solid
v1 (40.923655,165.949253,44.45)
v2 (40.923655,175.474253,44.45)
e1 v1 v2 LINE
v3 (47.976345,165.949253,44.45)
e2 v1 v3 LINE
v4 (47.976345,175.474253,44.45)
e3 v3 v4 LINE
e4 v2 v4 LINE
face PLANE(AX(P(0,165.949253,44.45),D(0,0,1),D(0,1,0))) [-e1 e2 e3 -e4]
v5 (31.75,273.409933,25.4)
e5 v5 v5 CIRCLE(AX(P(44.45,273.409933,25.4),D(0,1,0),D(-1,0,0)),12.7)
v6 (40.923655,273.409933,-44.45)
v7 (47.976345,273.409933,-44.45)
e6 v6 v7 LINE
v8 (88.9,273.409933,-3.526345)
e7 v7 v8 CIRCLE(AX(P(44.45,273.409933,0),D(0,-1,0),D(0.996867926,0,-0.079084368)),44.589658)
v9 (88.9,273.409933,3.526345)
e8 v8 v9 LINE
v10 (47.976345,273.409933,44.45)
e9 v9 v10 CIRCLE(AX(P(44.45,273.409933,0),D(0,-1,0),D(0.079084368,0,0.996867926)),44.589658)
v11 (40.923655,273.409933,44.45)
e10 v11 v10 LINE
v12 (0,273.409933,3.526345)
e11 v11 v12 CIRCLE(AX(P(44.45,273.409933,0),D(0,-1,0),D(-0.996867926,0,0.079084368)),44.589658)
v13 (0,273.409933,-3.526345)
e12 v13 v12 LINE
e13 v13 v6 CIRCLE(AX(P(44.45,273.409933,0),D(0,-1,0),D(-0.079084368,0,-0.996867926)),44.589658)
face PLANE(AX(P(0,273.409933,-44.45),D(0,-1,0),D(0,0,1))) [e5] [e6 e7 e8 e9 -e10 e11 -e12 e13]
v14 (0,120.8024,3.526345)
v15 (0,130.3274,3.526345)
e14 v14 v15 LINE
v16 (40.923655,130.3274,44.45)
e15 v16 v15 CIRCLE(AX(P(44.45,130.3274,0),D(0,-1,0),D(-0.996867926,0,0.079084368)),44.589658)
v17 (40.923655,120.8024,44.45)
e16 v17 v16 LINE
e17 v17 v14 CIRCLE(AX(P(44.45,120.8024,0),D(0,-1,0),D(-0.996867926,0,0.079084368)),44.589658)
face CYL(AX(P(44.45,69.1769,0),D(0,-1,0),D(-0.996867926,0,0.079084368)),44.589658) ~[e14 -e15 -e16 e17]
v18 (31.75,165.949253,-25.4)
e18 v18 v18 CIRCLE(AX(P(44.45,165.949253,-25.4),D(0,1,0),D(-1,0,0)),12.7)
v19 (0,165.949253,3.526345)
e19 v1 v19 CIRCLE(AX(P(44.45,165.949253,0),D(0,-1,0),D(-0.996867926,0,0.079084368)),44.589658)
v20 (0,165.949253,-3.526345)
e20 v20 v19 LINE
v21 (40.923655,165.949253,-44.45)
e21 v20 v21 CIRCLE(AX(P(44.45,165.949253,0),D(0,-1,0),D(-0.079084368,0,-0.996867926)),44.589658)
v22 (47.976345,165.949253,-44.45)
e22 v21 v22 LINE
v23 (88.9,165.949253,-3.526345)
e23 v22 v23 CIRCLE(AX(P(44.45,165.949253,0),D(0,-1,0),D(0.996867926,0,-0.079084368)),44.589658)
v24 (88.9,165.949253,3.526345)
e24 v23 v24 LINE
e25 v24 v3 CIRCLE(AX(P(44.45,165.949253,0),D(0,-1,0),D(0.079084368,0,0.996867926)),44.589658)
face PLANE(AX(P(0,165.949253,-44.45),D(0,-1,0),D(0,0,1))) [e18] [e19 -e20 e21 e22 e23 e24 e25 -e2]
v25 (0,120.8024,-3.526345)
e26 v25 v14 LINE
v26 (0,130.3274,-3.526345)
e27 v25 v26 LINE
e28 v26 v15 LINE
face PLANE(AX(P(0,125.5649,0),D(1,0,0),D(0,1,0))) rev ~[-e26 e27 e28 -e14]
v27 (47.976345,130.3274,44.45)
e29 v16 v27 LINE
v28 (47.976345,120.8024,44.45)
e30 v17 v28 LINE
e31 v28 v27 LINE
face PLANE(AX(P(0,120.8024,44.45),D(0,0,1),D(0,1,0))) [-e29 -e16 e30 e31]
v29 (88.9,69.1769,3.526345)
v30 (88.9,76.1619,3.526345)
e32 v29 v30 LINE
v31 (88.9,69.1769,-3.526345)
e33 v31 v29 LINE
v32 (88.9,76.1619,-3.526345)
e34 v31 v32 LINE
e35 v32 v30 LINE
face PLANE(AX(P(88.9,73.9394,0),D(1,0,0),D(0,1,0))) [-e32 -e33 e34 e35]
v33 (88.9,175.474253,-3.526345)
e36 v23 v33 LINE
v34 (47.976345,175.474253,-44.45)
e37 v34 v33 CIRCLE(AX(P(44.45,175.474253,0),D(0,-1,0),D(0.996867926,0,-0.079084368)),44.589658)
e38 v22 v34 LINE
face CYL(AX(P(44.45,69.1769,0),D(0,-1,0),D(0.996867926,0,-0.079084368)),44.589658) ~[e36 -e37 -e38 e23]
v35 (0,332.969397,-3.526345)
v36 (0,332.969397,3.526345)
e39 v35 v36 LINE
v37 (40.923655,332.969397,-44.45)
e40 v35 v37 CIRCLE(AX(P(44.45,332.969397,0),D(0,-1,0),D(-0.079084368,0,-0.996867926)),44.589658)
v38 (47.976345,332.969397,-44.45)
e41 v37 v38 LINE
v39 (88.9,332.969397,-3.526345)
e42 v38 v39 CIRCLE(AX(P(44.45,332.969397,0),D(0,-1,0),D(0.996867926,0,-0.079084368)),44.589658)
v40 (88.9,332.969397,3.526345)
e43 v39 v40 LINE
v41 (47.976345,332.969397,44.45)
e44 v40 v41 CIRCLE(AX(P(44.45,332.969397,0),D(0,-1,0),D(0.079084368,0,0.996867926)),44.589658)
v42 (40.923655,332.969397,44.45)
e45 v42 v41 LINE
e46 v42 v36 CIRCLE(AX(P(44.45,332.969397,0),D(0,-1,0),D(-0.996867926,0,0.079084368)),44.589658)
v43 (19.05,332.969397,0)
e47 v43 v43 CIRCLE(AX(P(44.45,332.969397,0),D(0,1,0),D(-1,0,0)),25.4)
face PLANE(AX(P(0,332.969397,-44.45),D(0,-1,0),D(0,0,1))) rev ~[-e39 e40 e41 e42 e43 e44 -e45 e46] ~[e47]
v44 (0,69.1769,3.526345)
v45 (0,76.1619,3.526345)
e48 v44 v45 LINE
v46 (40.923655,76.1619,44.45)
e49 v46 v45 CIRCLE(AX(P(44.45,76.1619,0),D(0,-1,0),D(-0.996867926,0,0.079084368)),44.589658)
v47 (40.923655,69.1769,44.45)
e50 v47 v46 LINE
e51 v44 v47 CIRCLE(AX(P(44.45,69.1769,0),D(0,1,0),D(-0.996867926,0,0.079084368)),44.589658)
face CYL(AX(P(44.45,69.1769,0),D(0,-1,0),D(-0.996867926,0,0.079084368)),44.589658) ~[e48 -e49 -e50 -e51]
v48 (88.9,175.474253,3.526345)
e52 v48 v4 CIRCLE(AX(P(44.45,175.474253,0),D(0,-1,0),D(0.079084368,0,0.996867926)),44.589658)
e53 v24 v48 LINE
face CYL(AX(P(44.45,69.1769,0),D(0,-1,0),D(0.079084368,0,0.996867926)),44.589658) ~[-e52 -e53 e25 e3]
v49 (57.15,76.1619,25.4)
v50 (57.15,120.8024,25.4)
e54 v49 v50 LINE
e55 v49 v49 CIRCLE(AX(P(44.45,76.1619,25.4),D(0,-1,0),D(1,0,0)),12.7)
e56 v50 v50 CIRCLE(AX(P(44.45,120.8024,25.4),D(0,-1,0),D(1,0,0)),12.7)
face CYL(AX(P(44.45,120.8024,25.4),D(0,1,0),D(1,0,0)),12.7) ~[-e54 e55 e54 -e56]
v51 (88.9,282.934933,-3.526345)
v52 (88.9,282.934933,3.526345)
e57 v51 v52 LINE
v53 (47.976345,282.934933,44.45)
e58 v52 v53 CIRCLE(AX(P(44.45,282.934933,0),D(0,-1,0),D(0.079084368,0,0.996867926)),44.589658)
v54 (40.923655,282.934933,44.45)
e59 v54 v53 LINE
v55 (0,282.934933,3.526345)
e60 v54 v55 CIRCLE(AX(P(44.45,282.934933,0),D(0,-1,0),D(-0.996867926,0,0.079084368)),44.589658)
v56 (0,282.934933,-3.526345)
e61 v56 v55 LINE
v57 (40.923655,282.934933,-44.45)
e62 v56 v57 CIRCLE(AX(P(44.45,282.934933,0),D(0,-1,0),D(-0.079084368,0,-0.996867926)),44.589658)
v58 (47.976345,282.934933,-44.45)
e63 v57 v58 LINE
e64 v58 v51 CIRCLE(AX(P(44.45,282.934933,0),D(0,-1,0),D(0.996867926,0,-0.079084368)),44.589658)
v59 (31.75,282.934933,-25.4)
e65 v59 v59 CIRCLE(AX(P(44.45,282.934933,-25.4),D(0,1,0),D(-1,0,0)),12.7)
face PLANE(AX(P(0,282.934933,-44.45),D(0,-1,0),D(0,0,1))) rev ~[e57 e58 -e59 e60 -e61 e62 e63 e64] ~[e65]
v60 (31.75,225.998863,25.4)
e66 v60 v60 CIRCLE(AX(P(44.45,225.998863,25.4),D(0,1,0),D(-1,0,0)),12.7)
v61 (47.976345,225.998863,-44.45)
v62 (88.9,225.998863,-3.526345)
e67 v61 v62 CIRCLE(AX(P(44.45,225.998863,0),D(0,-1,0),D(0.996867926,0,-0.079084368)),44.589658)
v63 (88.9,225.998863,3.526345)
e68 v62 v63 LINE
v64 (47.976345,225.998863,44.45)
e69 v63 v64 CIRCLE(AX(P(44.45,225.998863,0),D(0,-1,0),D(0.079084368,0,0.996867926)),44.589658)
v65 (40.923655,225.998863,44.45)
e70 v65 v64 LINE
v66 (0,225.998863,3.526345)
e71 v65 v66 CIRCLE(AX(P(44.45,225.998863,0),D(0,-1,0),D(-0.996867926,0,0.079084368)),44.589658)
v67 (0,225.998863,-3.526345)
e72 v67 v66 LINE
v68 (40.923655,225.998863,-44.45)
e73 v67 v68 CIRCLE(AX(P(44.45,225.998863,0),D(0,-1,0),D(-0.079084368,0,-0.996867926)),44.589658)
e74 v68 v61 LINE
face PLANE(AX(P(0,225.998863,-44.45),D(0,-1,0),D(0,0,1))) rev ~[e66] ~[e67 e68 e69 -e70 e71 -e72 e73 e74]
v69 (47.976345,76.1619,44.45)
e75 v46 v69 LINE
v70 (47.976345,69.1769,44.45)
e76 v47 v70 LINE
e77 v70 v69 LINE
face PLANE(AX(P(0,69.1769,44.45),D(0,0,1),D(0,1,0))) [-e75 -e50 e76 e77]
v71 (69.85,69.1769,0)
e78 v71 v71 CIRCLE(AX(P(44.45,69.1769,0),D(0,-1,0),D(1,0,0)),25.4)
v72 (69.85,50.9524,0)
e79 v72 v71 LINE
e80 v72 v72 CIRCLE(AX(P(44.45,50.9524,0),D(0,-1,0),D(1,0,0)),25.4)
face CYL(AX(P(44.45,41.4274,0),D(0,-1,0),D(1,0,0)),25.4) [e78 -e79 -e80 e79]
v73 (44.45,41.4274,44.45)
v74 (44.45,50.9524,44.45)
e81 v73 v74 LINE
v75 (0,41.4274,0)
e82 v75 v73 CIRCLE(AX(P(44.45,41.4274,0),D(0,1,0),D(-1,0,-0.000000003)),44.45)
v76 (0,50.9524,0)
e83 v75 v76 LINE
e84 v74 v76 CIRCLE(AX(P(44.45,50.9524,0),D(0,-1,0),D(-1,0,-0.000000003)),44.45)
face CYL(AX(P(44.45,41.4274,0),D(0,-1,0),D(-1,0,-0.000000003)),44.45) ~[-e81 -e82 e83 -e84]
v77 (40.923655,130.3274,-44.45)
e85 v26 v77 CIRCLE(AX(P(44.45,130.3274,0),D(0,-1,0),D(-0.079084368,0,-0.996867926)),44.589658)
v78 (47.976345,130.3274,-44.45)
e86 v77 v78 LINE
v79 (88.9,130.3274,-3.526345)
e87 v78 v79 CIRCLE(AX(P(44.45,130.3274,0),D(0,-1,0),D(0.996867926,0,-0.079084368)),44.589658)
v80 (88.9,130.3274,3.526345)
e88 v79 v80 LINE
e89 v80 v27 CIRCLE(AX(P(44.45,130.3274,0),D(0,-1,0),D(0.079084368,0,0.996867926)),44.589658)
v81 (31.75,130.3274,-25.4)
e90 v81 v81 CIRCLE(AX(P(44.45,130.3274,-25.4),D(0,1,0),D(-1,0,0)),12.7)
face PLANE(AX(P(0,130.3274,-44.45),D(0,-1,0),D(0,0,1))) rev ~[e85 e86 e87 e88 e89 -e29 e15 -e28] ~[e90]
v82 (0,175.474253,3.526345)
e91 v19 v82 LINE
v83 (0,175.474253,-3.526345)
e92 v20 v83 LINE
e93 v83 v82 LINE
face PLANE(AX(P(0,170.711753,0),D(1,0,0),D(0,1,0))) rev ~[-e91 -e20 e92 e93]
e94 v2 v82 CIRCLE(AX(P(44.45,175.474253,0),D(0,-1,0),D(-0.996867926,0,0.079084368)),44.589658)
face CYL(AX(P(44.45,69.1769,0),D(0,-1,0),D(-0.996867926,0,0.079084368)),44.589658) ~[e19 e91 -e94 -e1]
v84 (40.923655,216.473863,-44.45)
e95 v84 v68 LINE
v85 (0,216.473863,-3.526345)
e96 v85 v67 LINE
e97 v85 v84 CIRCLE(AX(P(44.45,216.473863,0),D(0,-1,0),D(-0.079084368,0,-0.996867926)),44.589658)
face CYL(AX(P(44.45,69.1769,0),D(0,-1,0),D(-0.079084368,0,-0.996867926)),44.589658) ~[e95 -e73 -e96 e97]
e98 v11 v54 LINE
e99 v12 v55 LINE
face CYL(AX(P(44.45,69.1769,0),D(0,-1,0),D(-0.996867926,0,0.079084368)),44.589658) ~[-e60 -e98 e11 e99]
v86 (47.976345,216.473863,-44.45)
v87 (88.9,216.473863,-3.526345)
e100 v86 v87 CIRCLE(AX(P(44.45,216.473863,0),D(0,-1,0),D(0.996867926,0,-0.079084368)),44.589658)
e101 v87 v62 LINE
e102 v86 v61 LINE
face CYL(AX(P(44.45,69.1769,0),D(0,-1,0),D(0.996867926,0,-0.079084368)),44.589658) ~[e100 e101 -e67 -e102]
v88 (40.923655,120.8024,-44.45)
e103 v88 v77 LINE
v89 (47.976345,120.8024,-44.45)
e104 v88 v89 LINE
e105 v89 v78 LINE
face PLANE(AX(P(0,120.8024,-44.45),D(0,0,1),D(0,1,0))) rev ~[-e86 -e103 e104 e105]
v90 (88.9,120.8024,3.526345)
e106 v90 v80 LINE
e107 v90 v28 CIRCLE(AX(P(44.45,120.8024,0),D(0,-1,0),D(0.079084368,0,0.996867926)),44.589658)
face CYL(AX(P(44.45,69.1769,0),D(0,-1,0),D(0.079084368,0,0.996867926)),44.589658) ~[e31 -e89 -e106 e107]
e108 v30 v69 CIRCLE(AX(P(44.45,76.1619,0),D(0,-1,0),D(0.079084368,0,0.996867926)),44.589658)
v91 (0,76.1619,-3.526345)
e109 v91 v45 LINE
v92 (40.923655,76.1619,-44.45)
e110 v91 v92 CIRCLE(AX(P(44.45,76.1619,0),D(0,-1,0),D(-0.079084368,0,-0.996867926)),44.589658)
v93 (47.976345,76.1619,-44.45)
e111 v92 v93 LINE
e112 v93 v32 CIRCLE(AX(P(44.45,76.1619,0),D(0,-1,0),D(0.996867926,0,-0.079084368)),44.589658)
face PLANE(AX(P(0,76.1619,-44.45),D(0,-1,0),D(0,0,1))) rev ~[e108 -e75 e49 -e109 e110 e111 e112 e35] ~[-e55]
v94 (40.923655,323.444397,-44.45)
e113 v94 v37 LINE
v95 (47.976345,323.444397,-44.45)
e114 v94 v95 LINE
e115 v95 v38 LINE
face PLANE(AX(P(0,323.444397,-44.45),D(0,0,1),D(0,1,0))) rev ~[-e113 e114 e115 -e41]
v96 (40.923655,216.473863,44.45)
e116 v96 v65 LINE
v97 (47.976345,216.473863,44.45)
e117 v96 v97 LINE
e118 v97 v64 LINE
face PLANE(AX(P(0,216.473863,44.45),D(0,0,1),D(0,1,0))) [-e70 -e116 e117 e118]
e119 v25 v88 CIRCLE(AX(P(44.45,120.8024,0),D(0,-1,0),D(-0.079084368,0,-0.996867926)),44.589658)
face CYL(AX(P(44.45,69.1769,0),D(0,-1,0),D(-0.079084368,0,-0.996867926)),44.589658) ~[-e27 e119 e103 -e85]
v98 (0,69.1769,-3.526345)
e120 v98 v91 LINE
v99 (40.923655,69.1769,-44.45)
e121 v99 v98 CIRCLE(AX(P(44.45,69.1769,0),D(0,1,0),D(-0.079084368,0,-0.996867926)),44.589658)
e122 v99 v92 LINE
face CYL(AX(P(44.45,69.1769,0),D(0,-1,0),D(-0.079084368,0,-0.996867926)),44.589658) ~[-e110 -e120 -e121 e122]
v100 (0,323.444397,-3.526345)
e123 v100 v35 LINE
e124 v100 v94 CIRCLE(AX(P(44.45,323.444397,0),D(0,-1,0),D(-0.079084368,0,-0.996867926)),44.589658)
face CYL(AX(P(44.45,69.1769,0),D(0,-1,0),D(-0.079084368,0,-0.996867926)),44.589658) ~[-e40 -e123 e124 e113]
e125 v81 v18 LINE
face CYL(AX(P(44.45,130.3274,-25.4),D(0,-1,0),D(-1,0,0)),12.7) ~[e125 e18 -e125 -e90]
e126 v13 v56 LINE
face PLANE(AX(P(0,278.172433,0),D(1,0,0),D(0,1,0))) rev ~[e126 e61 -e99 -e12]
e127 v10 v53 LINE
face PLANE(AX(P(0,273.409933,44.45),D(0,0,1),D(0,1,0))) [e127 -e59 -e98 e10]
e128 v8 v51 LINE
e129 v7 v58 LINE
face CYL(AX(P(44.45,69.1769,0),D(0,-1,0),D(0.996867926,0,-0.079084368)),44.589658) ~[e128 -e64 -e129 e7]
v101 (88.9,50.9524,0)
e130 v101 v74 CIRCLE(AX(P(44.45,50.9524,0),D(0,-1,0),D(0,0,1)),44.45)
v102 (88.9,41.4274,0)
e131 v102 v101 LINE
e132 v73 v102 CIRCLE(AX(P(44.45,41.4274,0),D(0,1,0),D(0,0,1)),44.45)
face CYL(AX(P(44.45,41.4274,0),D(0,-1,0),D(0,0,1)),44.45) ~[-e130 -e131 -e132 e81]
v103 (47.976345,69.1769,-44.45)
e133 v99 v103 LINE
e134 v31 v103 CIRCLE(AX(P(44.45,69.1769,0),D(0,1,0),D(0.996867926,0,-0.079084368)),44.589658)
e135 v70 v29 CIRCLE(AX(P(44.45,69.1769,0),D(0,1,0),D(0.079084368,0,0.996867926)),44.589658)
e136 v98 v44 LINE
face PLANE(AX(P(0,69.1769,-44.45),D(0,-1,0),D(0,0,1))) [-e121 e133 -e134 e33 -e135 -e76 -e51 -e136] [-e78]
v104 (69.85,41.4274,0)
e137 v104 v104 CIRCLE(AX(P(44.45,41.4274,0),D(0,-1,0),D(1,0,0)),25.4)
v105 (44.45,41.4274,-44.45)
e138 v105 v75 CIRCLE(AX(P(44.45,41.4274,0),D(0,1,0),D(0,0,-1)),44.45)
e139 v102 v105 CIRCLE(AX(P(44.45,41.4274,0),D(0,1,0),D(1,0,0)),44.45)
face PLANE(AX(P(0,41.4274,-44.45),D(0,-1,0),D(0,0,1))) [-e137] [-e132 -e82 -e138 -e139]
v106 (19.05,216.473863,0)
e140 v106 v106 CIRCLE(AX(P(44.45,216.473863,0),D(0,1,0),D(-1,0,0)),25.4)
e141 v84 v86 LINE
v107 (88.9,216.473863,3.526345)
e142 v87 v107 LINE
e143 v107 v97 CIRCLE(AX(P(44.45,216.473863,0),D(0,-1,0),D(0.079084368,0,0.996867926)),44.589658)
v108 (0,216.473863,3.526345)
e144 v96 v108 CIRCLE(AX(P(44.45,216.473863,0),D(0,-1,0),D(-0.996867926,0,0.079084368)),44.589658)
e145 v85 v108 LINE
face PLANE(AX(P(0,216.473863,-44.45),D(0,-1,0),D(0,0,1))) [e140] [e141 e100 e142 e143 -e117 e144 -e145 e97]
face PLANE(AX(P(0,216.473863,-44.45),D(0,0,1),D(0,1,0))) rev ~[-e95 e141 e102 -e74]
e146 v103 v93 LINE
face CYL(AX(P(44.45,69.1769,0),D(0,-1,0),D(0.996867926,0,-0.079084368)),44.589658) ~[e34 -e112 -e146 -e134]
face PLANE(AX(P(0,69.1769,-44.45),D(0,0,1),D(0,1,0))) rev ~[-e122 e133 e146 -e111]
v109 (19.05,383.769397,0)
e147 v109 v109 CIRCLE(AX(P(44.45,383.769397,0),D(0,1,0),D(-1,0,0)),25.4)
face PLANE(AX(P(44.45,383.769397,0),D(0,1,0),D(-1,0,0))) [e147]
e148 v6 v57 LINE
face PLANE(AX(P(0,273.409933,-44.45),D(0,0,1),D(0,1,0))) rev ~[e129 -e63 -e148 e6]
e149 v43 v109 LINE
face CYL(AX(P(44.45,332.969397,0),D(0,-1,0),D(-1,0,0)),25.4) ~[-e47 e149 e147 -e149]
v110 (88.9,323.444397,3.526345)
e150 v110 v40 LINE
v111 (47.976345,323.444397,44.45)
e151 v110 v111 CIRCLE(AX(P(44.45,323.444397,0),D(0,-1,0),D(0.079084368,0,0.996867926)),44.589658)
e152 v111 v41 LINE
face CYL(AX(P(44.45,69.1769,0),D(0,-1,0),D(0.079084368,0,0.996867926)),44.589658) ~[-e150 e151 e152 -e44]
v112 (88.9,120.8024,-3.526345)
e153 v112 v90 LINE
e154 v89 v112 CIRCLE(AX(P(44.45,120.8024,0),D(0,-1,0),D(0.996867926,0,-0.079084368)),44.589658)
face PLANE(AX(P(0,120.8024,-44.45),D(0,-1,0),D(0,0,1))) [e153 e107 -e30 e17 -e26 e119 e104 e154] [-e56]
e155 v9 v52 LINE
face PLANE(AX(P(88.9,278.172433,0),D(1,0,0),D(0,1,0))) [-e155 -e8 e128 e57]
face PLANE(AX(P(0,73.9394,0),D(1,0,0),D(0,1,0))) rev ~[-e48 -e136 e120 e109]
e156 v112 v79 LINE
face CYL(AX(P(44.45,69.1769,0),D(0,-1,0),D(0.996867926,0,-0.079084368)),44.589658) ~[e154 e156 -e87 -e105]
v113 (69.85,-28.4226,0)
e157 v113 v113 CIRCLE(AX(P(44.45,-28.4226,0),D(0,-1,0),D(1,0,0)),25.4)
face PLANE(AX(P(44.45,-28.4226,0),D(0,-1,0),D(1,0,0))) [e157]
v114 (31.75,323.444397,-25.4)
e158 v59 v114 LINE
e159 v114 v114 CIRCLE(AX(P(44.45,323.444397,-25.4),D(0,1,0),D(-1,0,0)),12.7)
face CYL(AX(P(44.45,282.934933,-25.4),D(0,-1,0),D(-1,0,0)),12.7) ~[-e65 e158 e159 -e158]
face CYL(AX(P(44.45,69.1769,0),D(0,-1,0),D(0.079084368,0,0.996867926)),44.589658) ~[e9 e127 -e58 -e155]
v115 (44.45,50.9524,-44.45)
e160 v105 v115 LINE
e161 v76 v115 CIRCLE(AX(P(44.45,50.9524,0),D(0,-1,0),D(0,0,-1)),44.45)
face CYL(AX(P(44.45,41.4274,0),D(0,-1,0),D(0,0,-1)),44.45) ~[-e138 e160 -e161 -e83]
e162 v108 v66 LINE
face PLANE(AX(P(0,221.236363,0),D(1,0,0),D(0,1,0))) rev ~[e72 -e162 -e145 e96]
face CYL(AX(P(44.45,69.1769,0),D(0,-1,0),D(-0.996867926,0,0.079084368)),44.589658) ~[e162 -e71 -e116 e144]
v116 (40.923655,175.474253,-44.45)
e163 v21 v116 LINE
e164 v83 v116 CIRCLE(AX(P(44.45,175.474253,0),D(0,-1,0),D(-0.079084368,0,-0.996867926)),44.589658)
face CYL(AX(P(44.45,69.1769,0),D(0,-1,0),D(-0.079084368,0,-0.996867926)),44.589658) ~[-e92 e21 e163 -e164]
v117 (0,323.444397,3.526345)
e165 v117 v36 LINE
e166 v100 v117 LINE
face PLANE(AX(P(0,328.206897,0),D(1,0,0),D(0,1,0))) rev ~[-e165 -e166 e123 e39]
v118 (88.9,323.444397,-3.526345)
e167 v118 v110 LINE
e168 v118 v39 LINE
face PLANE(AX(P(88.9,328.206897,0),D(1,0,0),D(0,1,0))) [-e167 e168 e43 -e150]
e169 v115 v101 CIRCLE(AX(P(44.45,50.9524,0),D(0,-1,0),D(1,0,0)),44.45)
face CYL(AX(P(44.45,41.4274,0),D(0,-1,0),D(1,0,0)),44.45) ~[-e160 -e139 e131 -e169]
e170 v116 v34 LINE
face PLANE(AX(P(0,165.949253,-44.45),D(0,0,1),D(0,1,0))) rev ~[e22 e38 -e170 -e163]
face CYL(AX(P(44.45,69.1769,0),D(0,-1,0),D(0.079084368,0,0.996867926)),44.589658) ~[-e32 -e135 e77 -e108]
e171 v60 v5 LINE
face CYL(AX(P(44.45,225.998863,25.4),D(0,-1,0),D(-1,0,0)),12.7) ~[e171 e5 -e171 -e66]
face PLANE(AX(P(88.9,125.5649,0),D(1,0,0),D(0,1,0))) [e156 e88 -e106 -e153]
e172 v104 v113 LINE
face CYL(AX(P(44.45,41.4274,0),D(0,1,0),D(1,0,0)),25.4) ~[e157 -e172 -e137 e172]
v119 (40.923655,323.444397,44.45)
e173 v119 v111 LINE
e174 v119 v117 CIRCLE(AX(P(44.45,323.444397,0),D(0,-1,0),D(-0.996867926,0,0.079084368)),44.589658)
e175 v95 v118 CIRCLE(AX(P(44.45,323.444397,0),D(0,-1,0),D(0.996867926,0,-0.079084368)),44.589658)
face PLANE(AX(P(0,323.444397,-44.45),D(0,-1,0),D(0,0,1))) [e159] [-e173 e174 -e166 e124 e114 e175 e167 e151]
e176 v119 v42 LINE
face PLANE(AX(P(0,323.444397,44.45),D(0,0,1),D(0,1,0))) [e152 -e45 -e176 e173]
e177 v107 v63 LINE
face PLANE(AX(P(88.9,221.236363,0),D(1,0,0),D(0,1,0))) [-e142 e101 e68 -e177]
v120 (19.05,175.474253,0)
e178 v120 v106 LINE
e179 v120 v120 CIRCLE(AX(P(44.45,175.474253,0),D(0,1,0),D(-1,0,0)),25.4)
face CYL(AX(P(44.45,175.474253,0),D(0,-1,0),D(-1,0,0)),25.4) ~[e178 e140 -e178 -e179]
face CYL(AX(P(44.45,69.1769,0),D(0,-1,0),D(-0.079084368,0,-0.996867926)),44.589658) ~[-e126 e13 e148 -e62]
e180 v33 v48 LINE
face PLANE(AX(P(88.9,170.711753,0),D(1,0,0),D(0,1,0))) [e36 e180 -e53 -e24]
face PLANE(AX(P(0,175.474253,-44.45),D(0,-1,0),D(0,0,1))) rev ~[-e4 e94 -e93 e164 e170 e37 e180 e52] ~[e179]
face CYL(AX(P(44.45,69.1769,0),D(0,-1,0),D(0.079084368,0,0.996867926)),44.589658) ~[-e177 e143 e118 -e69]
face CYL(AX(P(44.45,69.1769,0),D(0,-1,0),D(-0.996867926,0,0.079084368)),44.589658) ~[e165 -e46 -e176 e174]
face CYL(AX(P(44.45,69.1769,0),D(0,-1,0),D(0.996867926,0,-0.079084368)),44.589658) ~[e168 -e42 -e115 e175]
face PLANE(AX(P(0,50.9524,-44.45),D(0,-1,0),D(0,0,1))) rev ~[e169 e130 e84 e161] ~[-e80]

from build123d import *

# Parameters (mm, degrees)
F0_W          = 9.525
F0_H          = 88.9
F1_DEPTH      = 88.9
F2_R          = 25.4
F3_DEPTH      = 69.85
F3_DEPTH_BACK = 30.734
F4_DEPTH      = 12.192
F5_R          = 12.7
F6_DEPTH      = 42.1005
F7_R          = 12.7
F8_DEPTH      = 35.6218531678
F9_R          = 25.4
F10_DEPTH     = 40.9996094773
F11_R         = 12.7
F12_DEPTH     = 47.4110707312
F13_R         = 12.7
F14_DEPTH     = 40.5094634056
F16_DEPTH     = 263.7934967819
F17_R         = 25.4
F18_DEPTH     = 50.8
F19_DEPTH     = 2.54


with BuildPart() as f1:
    # F0 (on Right) → F1 (new body)
    with BuildSketch(Plane.YZ):
        with Locations((46.1899, 0)):
            Rectangle(F0_W, F0_H)
    extrude(amount=F1_DEPTH)



with BuildPart() as f1b:
    # F0 (on Right) → F1, piece 2 (new body)
    with BuildSketch(Plane.YZ):
        with Locations((73.9394, 0)):
            Rectangle(F0_W, F0_H)
    extrude(amount=F1_DEPTH)


with BuildPart() as f1c:
    # F0 (on Right) → F1, piece 3 (new body)
    with BuildSketch(Plane.YZ):
        with Locations((125.5649, 0)):
            Rectangle(F0_W, F0_H)
    extrude(amount=F1_DEPTH)


with BuildPart() as f1d:
    # F0 (on Right) → F1, piece 4 (new body)
    with BuildSketch(Plane.YZ):
        with Locations((170.7117531678, 0)):
            Rectangle(F0_W, F0_H)
    extrude(amount=F1_DEPTH)


with BuildPart() as f1e:
    # F0 (on Right) → F1, piece 5 (new body)
    with BuildSketch(Plane.YZ):
        with Locations((221.2363626451, 0)):
            Rectangle(F0_W, F0_H)
    extrude(amount=F1_DEPTH)


with BuildPart() as f1f:
    # F0 (on Right) → F1, piece 6 (new body)
    with BuildSketch(Plane.YZ):
        with Locations((278.1724333763, 0)):
            Rectangle(F0_W, F0_H)
    extrude(amount=F1_DEPTH)


with BuildPart() as f1g:
    # F0 (on Right) → F1, piece 7 (new body)
    with BuildSketch(Plane.YZ):
        with Locations((328.2068967819, 0)):
            Rectangle(F0_W, F0_H)
    extrude(amount=F1_DEPTH)


with BuildPart() as f1_1:
    add(f1.part)

    add(f1b.part)  # F3 merges F1b
    # F2 (on face) → F3 (join, two sides)
    with BuildSketch(Plane.XZ.offset(-41.4274)) as f3_sk:
        with Locations((44.45, 0)):
            Circle(F2_R)
    extrude(amount=F3_DEPTH)
    extrude(f3_sk.sketch, amount=-F3_DEPTH_BACK)

    # F2 (on face) → F4 (cut)
    with BuildSketch(Plane.XZ.offset(-41.4274)):
        with BuildLine():
            ThreePointArc((44.45, 44.45), (75.8808964237, 31.4308964237), (88.9, 0))
            Line((88.9, 0), (88.9, 44.45))
            Line((88.9, 44.45), (44.45, 44.45))
        make_face()
        with BuildLine():
            ThreePointArc((0, -1.192e-07), (13.0191035341, 31.4308963816), (44.45, 44.45))
            Line((44.45, 44.45), (0, 44.45))
            Line((0, 44.45), (0, -1.192e-07))
        make_face()
        with BuildLine():
            Line((0, -44.45), (44.45, -44.45))
            ThreePointArc((44.45, -44.45), (13.0191036184, -31.4308964659), (0, -1.192e-07))
            Line((0, -1.192e-07), (0, -44.45))
        make_face()
        with BuildLine():
            Line((88.9, -44.45), (88.9, 0))
            ThreePointArc((88.9, 0), (75.8808964237, -31.4308964237), (44.45, -44.45))
            Line((44.45, -44.45), (88.9, -44.45))
        make_face()
    extrude(amount=-F4_DEPTH, mode=Mode.SUBTRACT)


    add(f1c.part)  # F6 merges F1c
    # F5 (on face) → F6 (join, through all)
    with BuildSketch(Plane.XZ.offset(-120.8024)):
        with Locations((44.45, 25.4)):
            Circle(F5_R)
    extrude(amount=F6_DEPTH)


    add(f1d.part)  # F8 merges F1d
    # F7 (on face) → F8 (join, through all)
    with BuildSketch(Plane(origin=(0, 130.3274, 0), x_dir=(-1, 0, 0), z_dir=(0, 1, 0))):
        with Locations((-44.45, -25.4)):
            Circle(F7_R)
    extrude(amount=F8_DEPTH)


    add(f1e.part)  # F10 merges F1e
    # F9 (on face) → F10 (join, through all)
    with BuildSketch(Plane(origin=(0, 175.4742531678, 0), x_dir=(-1, 0, 0), z_dir=(0, 1, 0))):
        with Locations((-44.45, 0)):
            Circle(F9_R)
    extrude(amount=F10_DEPTH)


    add(f1f.part)  # F12 merges F1f
    # F11 (on face) → F12 (join, through all)
    with BuildSketch(Plane(origin=(0, 225.9988626451, 0), x_dir=(-1, 0, 0), z_dir=(0, 1, 0))):
        with Locations((-44.45, 25.4)):
            Circle(F11_R)
    extrude(amount=F12_DEPTH)


    add(f1g.part)  # F14 merges F1g
    # F13 (on face) → F14 (join, through all)
    with BuildSketch(Plane(origin=(0, 282.9349333763, 0), x_dir=(-1, 0, 0), z_dir=(0, 1, 0))):
        with Locations((-44.45, -25.4)):
            Circle(F13_R)
    extrude(amount=F14_DEPTH)

    # F15 (on face) → F16 (cut, through all)
    with BuildSketch(Plane.XZ.offset(-69.1769)):
        with BuildLine():
            ThreePointArc((0, 3.5263449072), (12.9203503952, 31.5296496048), (40.9236550928, 44.45))
            Line((40.9236550928, 44.45), (0, 44.45))
            Line((0, 44.45), (0, 3.5263449072))
        make_face()
        with BuildLine():
            Line((0, -44.45), (40.9236550928, -44.45))
            ThreePointArc((40.9236550928, -44.45), (12.9203503952, -31.5296496048), (0, -3.5263449072))
            Line((0, -3.5263449072), (0, -44.45))
        make_face()
        with BuildLine():
            Line((88.9, -44.45), (88.9, -3.5263449072))
            ThreePointArc((88.9, -3.5263449072), (75.9796496048, -31.5296496048), (47.9763449072, -44.45))
            Line((47.9763449072, -44.45), (88.9, -44.45))
        make_face()
        with BuildLine():
            ThreePointArc((47.9763449072, 44.45), (75.9796496048, 31.5296496048), (88.9, 3.5263449072))
            Line((88.9, 3.5263449072), (88.9, 44.45))
            Line((88.9, 44.45), (47.9763449072, 44.45))
        make_face()
    extrude(amount=-F16_DEPTH, mode=Mode.SUBTRACT)

    # F17 (on face) → F18 (join)
    with BuildSketch(Plane(origin=(0, 332.9693967819, 0), x_dir=(-1, 0, 0), z_dir=(0, 1, 0))):
        with Locations((-44.45, 0)):
            Circle(F17_R)
    extrude(amount=F18_DEPTH)

    # F19 (cut): a face of the model
    f19_faces = [f1_1.faces().sort_by_distance(p)[0] for p in [
        (44.45, 78.7019, -2.2434372105),
    ]]
    extrude(f19_faces, amount=-F19_DEPTH, mode=Mode.SUBTRACT)


solid = f1_1.part
